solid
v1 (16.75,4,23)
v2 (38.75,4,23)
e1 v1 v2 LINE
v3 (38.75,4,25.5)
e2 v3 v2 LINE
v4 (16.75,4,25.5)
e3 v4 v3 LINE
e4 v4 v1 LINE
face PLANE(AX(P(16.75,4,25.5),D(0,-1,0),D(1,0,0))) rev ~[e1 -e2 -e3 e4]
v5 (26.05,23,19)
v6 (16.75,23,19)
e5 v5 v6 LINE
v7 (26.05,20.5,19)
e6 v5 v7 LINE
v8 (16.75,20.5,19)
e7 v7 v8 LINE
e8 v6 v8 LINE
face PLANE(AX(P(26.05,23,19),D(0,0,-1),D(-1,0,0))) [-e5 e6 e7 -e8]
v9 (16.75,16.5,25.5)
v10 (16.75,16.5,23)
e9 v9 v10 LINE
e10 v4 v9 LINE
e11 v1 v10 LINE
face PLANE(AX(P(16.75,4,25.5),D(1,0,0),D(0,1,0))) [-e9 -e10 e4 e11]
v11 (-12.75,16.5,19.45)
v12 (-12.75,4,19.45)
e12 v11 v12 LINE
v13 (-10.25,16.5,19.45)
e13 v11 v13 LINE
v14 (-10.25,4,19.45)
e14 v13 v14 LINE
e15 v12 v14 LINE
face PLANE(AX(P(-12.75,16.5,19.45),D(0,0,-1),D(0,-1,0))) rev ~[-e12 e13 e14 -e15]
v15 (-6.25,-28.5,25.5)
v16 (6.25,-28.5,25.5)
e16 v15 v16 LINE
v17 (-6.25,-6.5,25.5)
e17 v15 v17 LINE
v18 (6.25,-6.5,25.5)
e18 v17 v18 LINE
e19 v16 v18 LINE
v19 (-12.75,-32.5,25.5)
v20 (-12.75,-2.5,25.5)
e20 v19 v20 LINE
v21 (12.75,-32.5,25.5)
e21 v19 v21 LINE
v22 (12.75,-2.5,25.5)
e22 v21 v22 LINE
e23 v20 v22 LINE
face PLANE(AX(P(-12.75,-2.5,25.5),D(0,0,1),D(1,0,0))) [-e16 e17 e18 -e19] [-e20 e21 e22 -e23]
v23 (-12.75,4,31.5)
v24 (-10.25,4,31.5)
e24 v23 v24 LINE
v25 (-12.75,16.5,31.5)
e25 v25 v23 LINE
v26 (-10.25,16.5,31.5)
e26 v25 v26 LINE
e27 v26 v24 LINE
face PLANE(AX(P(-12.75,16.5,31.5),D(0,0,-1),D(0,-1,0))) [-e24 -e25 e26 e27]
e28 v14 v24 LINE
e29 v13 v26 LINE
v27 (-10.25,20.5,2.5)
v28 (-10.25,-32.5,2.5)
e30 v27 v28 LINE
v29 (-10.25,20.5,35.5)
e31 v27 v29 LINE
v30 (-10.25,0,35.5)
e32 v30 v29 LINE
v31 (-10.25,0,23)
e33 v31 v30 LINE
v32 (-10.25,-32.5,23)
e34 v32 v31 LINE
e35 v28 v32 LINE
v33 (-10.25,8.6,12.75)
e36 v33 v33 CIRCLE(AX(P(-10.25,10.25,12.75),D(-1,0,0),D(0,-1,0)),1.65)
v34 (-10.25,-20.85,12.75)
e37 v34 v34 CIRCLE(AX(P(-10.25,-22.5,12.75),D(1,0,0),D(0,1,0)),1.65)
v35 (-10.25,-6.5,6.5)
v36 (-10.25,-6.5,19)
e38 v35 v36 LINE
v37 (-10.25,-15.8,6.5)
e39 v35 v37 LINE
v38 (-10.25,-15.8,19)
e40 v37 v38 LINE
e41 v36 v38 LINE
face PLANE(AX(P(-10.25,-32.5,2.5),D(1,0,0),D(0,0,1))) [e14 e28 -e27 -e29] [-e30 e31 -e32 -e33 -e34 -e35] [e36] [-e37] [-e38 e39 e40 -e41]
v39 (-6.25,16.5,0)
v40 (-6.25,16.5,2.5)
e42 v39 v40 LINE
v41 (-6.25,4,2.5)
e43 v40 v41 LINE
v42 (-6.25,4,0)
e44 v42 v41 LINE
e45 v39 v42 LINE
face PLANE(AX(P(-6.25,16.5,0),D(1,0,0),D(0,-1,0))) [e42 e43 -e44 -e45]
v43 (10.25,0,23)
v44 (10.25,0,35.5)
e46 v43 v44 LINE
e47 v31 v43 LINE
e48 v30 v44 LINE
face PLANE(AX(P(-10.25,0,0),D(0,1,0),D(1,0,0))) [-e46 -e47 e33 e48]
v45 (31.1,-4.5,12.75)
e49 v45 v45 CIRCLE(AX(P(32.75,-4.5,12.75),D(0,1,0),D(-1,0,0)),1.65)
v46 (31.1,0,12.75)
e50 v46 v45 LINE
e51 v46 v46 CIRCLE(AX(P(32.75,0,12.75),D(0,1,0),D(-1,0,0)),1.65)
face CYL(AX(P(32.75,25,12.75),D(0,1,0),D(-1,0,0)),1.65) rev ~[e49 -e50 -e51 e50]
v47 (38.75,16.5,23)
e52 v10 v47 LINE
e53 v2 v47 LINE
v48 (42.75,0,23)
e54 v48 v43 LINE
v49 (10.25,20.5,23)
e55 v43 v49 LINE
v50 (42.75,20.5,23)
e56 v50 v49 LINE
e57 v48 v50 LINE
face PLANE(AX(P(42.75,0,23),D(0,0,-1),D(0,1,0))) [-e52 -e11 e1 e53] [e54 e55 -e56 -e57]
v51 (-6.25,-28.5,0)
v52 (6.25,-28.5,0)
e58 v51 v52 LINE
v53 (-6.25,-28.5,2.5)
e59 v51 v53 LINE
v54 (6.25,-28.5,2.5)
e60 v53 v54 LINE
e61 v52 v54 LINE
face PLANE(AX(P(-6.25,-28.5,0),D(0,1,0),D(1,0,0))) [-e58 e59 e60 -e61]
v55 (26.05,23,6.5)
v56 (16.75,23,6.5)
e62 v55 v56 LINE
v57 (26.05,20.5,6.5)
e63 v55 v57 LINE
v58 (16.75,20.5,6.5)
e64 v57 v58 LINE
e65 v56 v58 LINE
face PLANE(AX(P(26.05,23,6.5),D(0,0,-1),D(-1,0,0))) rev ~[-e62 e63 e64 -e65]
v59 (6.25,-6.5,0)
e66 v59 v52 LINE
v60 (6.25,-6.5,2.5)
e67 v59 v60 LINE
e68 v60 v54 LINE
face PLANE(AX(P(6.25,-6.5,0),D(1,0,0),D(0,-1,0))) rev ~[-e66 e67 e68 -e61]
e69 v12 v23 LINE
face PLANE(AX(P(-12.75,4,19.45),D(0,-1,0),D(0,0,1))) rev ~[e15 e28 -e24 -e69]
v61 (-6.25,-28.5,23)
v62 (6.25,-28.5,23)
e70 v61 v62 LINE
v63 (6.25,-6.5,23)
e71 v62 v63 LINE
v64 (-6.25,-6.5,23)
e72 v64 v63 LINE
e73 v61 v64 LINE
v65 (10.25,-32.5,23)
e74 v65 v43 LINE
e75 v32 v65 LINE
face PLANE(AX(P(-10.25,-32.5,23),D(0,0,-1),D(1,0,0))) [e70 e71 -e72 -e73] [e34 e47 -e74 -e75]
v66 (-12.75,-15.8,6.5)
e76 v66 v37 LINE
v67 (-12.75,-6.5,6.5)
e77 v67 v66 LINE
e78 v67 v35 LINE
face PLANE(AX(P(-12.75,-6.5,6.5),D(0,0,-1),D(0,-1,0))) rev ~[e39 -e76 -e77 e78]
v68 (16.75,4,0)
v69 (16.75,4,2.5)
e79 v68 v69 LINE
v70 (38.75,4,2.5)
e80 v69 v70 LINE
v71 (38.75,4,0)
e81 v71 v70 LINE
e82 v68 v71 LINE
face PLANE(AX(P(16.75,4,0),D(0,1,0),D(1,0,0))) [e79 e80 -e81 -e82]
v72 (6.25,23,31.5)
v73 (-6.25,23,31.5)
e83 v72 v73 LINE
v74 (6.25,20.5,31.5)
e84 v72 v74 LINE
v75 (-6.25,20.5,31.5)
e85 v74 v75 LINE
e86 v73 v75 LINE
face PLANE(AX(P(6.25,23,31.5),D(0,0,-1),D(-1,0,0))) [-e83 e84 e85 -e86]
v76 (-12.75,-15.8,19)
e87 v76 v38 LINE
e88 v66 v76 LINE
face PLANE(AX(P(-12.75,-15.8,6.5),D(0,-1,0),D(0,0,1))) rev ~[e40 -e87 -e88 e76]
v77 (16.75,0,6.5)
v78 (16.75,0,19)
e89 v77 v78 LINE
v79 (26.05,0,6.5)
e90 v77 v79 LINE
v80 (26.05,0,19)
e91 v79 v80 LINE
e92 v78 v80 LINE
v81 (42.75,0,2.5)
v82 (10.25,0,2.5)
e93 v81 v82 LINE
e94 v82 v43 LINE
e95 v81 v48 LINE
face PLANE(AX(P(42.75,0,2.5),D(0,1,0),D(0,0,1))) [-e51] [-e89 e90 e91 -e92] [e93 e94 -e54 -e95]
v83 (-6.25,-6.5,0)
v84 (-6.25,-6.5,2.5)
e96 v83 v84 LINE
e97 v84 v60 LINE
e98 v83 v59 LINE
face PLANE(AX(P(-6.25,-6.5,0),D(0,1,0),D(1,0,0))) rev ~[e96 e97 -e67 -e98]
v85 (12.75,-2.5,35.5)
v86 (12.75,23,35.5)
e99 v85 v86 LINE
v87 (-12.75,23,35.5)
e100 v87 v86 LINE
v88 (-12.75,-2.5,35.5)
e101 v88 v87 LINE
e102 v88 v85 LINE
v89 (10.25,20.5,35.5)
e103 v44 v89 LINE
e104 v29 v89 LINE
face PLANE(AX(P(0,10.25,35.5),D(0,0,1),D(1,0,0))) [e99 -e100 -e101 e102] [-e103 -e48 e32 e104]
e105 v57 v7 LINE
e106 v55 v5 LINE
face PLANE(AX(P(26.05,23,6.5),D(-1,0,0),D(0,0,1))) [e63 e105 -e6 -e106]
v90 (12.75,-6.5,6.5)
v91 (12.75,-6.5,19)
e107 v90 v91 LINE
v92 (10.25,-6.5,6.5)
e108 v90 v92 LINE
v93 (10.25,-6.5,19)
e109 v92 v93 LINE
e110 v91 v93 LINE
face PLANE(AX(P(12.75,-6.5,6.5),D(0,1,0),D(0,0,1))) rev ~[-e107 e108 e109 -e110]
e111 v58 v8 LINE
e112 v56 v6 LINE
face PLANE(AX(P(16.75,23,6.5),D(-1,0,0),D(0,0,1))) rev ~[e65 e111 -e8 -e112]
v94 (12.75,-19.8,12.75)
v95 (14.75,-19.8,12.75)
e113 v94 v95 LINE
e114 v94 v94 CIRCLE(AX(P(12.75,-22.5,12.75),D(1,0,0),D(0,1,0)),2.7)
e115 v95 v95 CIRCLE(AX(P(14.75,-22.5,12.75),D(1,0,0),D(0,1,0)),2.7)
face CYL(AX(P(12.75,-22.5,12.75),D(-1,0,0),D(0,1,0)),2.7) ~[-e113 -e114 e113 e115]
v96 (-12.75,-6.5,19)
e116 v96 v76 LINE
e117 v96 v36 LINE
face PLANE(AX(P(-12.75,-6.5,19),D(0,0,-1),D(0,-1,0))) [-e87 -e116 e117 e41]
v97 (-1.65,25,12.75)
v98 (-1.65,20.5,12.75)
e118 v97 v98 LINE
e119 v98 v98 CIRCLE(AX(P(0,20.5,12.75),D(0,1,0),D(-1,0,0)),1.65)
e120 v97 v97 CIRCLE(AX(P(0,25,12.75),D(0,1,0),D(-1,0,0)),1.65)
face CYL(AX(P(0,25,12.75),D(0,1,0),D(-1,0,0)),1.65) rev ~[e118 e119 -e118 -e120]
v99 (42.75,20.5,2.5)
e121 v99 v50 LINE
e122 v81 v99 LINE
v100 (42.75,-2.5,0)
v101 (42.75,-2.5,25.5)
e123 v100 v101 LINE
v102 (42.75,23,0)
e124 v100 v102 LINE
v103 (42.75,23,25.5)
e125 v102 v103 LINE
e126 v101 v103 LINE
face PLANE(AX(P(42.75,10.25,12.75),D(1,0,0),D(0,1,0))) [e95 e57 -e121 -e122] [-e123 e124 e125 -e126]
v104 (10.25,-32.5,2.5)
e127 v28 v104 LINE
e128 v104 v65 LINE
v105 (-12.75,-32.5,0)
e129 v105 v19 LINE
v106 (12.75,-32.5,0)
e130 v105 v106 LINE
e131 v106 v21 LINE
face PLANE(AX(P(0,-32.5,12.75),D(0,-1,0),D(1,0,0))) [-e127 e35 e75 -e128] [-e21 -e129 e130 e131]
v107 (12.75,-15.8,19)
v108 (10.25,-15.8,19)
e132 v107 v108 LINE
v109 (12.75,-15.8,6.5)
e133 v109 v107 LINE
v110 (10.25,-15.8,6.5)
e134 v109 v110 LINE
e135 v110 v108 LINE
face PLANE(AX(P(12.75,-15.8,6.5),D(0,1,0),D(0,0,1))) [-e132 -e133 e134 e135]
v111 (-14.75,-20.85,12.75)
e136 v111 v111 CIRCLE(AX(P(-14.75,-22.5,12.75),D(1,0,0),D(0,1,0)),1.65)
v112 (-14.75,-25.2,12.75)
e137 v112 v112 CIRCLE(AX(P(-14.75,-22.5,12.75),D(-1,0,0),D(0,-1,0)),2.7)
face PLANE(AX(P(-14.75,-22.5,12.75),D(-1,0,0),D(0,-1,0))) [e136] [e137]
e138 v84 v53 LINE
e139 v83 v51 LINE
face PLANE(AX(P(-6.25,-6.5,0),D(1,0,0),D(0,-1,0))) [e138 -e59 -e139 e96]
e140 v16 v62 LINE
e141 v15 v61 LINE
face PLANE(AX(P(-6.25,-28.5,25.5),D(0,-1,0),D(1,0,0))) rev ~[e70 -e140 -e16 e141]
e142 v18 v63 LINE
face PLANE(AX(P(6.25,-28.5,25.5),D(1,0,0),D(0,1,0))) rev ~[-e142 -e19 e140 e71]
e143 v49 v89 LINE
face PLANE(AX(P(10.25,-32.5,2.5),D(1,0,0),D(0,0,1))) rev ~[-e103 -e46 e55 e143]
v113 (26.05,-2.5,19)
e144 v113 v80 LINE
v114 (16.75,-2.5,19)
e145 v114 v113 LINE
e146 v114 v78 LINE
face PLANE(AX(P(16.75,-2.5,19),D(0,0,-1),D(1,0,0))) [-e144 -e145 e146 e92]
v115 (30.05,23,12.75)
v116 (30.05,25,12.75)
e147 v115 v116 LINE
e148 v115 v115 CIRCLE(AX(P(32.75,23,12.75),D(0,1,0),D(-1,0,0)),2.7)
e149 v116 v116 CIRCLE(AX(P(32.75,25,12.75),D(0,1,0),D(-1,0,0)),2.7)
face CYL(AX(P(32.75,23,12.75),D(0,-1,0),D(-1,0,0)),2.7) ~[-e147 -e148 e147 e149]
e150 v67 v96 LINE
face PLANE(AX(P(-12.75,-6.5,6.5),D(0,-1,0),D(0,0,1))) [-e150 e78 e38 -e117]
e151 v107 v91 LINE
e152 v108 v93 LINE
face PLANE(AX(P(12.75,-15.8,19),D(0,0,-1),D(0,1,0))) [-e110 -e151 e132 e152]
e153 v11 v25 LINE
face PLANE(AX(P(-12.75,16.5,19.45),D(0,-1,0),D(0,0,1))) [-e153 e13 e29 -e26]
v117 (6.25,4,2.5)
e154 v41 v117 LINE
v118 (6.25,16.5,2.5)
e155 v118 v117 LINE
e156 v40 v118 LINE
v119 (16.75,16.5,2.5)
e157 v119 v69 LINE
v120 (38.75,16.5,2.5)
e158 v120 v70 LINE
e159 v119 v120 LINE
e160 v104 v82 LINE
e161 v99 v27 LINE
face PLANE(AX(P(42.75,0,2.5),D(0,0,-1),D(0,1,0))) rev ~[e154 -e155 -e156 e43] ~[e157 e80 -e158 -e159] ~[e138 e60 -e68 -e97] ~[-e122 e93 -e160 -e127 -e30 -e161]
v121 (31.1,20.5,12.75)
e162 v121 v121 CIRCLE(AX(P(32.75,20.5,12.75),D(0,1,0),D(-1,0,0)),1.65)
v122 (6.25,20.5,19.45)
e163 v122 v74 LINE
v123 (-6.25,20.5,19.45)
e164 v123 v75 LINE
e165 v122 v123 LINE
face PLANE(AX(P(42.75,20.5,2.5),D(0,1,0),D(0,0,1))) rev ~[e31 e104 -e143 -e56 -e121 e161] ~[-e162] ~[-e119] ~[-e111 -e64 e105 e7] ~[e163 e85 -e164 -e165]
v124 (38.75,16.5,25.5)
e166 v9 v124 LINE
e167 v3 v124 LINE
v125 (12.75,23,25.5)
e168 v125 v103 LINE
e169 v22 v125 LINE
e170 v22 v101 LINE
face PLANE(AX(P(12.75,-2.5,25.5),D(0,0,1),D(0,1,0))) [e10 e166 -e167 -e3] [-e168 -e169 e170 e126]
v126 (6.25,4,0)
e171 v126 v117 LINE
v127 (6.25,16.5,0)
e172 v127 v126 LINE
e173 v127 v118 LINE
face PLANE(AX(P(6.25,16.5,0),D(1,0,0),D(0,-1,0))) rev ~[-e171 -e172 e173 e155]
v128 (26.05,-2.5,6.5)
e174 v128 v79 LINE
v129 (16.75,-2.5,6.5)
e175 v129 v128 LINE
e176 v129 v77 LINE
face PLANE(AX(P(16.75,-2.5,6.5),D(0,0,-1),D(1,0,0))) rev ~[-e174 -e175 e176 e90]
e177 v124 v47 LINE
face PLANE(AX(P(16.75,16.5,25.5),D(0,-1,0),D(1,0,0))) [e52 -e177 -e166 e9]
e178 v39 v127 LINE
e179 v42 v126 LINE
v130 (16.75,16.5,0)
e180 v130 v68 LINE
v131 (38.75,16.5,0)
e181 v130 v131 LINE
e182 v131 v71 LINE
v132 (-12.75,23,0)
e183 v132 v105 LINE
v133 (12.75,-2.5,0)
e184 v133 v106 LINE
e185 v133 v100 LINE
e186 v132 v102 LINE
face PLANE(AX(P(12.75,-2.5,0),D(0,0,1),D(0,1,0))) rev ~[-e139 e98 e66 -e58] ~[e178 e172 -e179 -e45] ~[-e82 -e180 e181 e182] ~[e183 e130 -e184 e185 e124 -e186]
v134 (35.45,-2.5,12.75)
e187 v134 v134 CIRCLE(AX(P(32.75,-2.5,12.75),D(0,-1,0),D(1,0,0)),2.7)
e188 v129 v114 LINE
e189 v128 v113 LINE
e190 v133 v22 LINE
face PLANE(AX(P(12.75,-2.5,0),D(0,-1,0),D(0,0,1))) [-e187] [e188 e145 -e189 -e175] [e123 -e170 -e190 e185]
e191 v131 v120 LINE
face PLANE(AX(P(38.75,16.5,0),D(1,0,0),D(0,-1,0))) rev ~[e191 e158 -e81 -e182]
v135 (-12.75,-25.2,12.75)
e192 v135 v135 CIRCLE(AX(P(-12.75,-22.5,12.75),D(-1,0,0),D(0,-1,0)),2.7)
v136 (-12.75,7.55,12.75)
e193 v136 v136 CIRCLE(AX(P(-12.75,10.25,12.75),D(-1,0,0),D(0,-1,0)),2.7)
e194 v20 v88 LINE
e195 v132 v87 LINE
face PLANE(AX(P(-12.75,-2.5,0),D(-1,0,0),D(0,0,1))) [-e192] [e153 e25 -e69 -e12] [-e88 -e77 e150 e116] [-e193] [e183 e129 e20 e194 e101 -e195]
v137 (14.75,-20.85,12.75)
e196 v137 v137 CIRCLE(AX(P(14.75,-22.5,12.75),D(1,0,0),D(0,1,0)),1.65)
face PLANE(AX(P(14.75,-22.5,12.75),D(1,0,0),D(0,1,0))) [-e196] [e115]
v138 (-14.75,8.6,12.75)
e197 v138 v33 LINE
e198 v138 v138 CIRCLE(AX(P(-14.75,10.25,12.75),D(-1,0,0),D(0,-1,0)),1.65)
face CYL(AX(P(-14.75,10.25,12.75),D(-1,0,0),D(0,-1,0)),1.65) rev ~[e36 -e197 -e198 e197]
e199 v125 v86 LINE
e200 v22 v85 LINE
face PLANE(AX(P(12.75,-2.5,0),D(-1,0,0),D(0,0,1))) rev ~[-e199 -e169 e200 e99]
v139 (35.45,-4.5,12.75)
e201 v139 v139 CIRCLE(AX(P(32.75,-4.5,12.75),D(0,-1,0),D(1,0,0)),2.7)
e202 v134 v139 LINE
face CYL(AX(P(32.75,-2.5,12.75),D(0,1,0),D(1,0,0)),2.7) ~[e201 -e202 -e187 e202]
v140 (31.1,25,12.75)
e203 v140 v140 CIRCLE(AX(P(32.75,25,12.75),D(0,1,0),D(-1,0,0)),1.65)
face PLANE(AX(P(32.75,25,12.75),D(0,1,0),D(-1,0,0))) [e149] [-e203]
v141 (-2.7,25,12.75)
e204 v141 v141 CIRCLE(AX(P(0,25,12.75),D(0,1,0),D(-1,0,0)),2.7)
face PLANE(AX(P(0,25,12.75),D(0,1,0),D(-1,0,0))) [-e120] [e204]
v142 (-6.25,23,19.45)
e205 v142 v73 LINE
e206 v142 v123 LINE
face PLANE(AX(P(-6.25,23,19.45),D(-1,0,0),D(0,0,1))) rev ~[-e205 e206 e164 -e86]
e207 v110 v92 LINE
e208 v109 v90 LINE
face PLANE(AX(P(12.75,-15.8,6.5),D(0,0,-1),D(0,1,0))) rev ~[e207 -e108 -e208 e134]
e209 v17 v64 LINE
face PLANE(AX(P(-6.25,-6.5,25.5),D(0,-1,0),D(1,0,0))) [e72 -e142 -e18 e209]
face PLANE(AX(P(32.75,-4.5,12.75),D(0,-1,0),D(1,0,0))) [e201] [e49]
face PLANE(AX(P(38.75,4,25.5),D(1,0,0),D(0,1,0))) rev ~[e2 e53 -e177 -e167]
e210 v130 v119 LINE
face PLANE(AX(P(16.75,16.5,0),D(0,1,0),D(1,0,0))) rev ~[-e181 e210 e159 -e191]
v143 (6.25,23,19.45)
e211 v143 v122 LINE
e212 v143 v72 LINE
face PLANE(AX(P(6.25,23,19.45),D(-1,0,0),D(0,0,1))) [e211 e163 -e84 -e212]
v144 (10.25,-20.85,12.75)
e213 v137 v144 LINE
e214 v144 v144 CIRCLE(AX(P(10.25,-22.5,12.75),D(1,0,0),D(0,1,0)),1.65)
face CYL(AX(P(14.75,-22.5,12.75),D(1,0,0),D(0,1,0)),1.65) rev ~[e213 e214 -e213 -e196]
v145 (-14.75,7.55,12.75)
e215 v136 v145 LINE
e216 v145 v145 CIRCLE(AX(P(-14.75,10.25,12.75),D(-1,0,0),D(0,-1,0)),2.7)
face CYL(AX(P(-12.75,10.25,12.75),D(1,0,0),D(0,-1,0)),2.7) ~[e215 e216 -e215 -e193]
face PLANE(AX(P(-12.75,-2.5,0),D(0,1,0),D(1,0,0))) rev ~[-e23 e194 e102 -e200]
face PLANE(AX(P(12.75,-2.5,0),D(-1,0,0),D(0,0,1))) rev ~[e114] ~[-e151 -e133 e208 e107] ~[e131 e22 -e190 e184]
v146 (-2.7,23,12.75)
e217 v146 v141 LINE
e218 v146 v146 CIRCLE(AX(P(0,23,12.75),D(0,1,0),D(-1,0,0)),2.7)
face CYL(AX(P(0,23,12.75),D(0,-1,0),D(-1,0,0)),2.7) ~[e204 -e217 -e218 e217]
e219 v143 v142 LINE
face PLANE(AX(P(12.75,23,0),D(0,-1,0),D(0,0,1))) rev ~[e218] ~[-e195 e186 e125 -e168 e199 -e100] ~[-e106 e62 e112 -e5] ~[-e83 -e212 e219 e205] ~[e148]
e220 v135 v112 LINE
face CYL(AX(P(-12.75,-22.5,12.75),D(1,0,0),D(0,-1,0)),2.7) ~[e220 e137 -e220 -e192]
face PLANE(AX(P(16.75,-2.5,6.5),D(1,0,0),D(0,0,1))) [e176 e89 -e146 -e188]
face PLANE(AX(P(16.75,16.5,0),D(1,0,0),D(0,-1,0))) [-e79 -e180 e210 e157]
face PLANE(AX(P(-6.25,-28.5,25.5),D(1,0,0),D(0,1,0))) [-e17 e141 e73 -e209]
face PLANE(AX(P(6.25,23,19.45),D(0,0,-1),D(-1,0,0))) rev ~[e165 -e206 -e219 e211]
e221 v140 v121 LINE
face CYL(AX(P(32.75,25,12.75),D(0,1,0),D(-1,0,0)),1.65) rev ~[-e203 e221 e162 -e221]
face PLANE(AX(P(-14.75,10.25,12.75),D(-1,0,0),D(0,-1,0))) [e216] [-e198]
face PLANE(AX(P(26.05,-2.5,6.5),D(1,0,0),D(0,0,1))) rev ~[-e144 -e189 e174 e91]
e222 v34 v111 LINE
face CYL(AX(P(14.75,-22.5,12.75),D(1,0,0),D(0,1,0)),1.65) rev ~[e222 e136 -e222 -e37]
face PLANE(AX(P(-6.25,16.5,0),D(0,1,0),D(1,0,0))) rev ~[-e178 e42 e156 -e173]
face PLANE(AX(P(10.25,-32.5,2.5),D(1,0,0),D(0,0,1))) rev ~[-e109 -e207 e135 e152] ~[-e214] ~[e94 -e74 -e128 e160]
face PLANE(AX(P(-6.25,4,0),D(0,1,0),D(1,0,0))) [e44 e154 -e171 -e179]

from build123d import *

# Parameters (mm, degrees)
F0_W      = 25.5
F0_H      = 25.5
F0_W_2    = 20.5
F0_H_2    = 20.5
F1_DEPTH  = 35.5
F2_W      = 25.5
F2_H      = 25.5
F3_DEPTH  = 30
F4_DEPTH  = 10
F5_W      = 20.5
F5_H      = 20.5
F6_DEPTH  = 32.5
F7_W      = 20.5
F7_H      = 20.5
F8_DEPTH  = 2.5
F9_W      = 25.5
F9_H      = 25.5
F10_DEPTH = 30
F11_W     = 20.5
F11_H     = 20.5
F12_DEPTH = 32.5
F13_R     = 2.7
F14_DEPTH = 2
F15_R     = 2.7
F16_DEPTH = 2
F17_R     = 1.65
F18_DEPTH = 30
F19_R     = 2.7
F20_DEPTH = 2
F21_R     = 2.7
F22_DEPTH = 2
F23_R     = 1.65
F24_DEPTH = 30
F25_R     = 2.7
F26_DEPTH = 2
F27_R     = 1.65
F28_DEPTH = 25
F29_R     = 2.7
F30_DEPTH = 2
F31_R     = 1.65
F32_DEPTH = 25
F33_W     = 22
F33_H     = 12.5
F33_W_2   = 12.5
F33_H_2   = 22
F34_DEPTH = 2.5
F35_W     = 9.3
F35_H     = 12.5
F36_DEPTH = 2.5
F37_W     = 9.3
F37_H     = 12.5
F37_W_2   = 12.5
F37_H_2   = 12.05
F38_DEPTH = 2.5
F39_W     = 9.3
F39_H     = 12.5
F39_W_2   = 12.5
F39_H_2   = 12.05
F40_DEPTH = 2.5
F41_W     = 22
F41_H     = 12.5
F41_W_2   = 12.5
F41_H_2   = 22
F42_DEPTH = 2.5
F43_W     = 9.3
F43_H     = 12.5
F44_DEPTH = 2.5


with BuildPart() as f1:
    # F0 (on Top) → F1 (new body)
    with BuildSketch(Plane.XY):
        with Locations((0, 10.25)):
            Rectangle(F0_W, F0_H)
        with Locations((0, 10.25)):
            Rectangle(F0_W_2, F0_H_2, mode=Mode.SUBTRACT)
    extrude(amount=F1_DEPTH)

    # F2 (on face) → F3 (join)
    with BuildSketch(Plane.XZ.offset(2.5)):
        with Locations((0, 12.75)):
            Rectangle(F2_W, F2_H)
    extrude(amount=F3_DEPTH)

    # F2 (on face) → F4 (join)
    with BuildSketch(Plane.XZ.offset(2.5)):
        with Locations((0, 12.75)):
            Rectangle(F2_W, F2_H)
    extrude(amount=F4_DEPTH)

    # F5 (on face) → F6 (cut)
    with BuildSketch(Plane.XZ.offset(32.5)):
        with Locations((0, 12.75)):
            Rectangle(F5_W, F5_H)
    extrude(amount=-F6_DEPTH, mode=Mode.SUBTRACT)

    # F7 (on face) → F8 (join)
    with BuildSketch(Plane(origin=(0, 0, 0), x_dir=(1, 0, 0), z_dir=(0, 0, -1))):
        with Locations((0, -10.25)):
            Rectangle(F7_W, F7_H)
    extrude(amount=-F8_DEPTH)

    # F9 (on face) → F10 (join)
    with BuildSketch(Plane.YZ.offset(12.75)):
        with Locations((10.25, 12.75)):
            Rectangle(F9_W, F9_H)
    extrude(amount=F10_DEPTH)

    # F11 (on face) → F12 (cut)
    with BuildSketch(Plane.YZ.offset(42.75)):
        with Locations((10.25, 12.75)):
            Rectangle(F11_W, F11_H)
    extrude(amount=-F12_DEPTH, mode=Mode.SUBTRACT)

    # F13 (on face) → F14 (join)
    with BuildSketch(Plane.YZ.offset(12.75)):
        with Locations((-22.5, 12.75)):
            Circle(F13_R)
    extrude(amount=F14_DEPTH)

    # F15 (on face) → F16 (join)
    with BuildSketch(Plane(origin=(-12.75, 0, 0), x_dir=(0, -1, 0), z_dir=(-1, 0, 0))):
        with Locations((22.5, 12.75)):
            Circle(F15_R)
    extrude(amount=F16_DEPTH)

    # F17 (on face) → F18 (cut)
    with BuildSketch(Plane.YZ.offset(14.75)):
        with Locations((-22.5, 12.75)):
            Circle(F17_R)
    extrude(amount=-F18_DEPTH, mode=Mode.SUBTRACT)

    # F19 (on face) → F20 (join)
    with BuildSketch(Plane.XZ.offset(2.5)):
        with Locations((32.75, 12.75)):
            Circle(F19_R)
    extrude(amount=F20_DEPTH)

    # F21 (on face) → F22 (join)
    with BuildSketch(Plane(origin=(0, 23, 0), x_dir=(-1, 0, 0), z_dir=(0, 1, 0))):
        with Locations((-32.75, 12.75)):
            Circle(F21_R)
    extrude(amount=F22_DEPTH)

    # F23 (on face) → F24 (cut)
    with BuildSketch(Plane(origin=(0, 25, 0), x_dir=(-1, 0, 0), z_dir=(0, 1, 0))):
        with Locations((-32.75, 12.75)):
            Circle(F23_R)
    extrude(amount=-F24_DEPTH, mode=Mode.SUBTRACT)

    # F25 (on face) → F26 (join)
    with BuildSketch(Plane(origin=(-12.75, 0, 0), x_dir=(0, -1, 0), z_dir=(-1, 0, 0))):
        with Locations((-10.25, 12.75)):
            Circle(F25_R)
    extrude(amount=F26_DEPTH)

    # F27 (on face) → F28 (cut)
    with BuildSketch(Plane(origin=(-14.75, 0, 0), x_dir=(0, -1, 0), z_dir=(-1, 0, 0))):
        with Locations((-10.25, 12.75)):
            Circle(F27_R)
    extrude(amount=-F28_DEPTH, mode=Mode.SUBTRACT)

    # F29 (on face) → F30 (join)
    with BuildSketch(Plane(origin=(0, 23, 0), x_dir=(-1, 0, 0), z_dir=(0, 1, 0))):
        with Locations((0, 12.75)):
            Circle(F29_R)
    extrude(amount=F30_DEPTH)

    # F31 (on face) → F32 (cut)
    with BuildSketch(Plane(origin=(0, 25, 0), x_dir=(-1, 0, 0), z_dir=(0, 1, 0))):
        with Locations((0, 12.75)):
            Circle(F31_R)
    extrude(amount=-F32_DEPTH, mode=Mode.SUBTRACT)

    # F33 (on face) → F34 (cut)
    with BuildSketch(Plane(origin=(0, 0, 0), x_dir=(1, 0, 0), z_dir=(0, 0, -1))):
        with Locations((27.75, -10.25)):
            Rectangle(F33_W, F33_H)
        with Locations((0, -10.25)):
            Rectangle(F33_W_2, F33_H)
        with Locations((0, 17.5)):
            Rectangle(F33_W_2, F33_H_2)
    extrude(amount=-F34_DEPTH, mode=Mode.SUBTRACT)

    # F35 (on face) → F36 (cut)
    with BuildSketch(Plane.YZ.offset(12.75)):
        with Locations((-11.15, 12.75)):
            Rectangle(F35_W, F35_H)
    extrude(amount=-F36_DEPTH, mode=Mode.SUBTRACT)

    # F37 (on face) → F38 (cut)
    with BuildSketch(Plane(origin=(-12.75, 0, 0), x_dir=(0, -1, 0), z_dir=(-1, 0, 0))):
        with Locations((11.15, 12.75)):
            Rectangle(F37_W, F37_H)
        with Locations((-10.25, 25.475)):
            Rectangle(F37_W_2, F37_H_2)
    extrude(amount=-F38_DEPTH, mode=Mode.SUBTRACT)

    # F39 (on face) → F40 (cut)
    with BuildSketch(Plane(origin=(0, 23, 0), x_dir=(-1, 0, 0), z_dir=(0, 1, 0))):
        with Locations((-21.4, 12.75)):
            Rectangle(F39_W, F39_H)
        with Locations((0, 25.475)):
            Rectangle(F39_W_2, F39_H_2)
    extrude(amount=-F40_DEPTH, mode=Mode.SUBTRACT)

    # F41 (on face) → F42 (cut)
    with BuildSketch(Plane.XY.offset(25.5)):
        with Locations((27.75, 10.25)):
            Rectangle(F41_W, F41_H)
        with Locations((0, -17.5)):
            Rectangle(F41_W_2, F41_H_2)
    extrude(amount=-F42_DEPTH, mode=Mode.SUBTRACT)

    # F43 (on face) → F44 (cut)
    with BuildSketch(Plane.XZ.offset(2.5)):
        with Locations((21.4, 12.75)):
            Rectangle(F43_W, F43_H)
    extrude(amount=-F44_DEPTH, mode=Mode.SUBTRACT)


solid = f1.part
